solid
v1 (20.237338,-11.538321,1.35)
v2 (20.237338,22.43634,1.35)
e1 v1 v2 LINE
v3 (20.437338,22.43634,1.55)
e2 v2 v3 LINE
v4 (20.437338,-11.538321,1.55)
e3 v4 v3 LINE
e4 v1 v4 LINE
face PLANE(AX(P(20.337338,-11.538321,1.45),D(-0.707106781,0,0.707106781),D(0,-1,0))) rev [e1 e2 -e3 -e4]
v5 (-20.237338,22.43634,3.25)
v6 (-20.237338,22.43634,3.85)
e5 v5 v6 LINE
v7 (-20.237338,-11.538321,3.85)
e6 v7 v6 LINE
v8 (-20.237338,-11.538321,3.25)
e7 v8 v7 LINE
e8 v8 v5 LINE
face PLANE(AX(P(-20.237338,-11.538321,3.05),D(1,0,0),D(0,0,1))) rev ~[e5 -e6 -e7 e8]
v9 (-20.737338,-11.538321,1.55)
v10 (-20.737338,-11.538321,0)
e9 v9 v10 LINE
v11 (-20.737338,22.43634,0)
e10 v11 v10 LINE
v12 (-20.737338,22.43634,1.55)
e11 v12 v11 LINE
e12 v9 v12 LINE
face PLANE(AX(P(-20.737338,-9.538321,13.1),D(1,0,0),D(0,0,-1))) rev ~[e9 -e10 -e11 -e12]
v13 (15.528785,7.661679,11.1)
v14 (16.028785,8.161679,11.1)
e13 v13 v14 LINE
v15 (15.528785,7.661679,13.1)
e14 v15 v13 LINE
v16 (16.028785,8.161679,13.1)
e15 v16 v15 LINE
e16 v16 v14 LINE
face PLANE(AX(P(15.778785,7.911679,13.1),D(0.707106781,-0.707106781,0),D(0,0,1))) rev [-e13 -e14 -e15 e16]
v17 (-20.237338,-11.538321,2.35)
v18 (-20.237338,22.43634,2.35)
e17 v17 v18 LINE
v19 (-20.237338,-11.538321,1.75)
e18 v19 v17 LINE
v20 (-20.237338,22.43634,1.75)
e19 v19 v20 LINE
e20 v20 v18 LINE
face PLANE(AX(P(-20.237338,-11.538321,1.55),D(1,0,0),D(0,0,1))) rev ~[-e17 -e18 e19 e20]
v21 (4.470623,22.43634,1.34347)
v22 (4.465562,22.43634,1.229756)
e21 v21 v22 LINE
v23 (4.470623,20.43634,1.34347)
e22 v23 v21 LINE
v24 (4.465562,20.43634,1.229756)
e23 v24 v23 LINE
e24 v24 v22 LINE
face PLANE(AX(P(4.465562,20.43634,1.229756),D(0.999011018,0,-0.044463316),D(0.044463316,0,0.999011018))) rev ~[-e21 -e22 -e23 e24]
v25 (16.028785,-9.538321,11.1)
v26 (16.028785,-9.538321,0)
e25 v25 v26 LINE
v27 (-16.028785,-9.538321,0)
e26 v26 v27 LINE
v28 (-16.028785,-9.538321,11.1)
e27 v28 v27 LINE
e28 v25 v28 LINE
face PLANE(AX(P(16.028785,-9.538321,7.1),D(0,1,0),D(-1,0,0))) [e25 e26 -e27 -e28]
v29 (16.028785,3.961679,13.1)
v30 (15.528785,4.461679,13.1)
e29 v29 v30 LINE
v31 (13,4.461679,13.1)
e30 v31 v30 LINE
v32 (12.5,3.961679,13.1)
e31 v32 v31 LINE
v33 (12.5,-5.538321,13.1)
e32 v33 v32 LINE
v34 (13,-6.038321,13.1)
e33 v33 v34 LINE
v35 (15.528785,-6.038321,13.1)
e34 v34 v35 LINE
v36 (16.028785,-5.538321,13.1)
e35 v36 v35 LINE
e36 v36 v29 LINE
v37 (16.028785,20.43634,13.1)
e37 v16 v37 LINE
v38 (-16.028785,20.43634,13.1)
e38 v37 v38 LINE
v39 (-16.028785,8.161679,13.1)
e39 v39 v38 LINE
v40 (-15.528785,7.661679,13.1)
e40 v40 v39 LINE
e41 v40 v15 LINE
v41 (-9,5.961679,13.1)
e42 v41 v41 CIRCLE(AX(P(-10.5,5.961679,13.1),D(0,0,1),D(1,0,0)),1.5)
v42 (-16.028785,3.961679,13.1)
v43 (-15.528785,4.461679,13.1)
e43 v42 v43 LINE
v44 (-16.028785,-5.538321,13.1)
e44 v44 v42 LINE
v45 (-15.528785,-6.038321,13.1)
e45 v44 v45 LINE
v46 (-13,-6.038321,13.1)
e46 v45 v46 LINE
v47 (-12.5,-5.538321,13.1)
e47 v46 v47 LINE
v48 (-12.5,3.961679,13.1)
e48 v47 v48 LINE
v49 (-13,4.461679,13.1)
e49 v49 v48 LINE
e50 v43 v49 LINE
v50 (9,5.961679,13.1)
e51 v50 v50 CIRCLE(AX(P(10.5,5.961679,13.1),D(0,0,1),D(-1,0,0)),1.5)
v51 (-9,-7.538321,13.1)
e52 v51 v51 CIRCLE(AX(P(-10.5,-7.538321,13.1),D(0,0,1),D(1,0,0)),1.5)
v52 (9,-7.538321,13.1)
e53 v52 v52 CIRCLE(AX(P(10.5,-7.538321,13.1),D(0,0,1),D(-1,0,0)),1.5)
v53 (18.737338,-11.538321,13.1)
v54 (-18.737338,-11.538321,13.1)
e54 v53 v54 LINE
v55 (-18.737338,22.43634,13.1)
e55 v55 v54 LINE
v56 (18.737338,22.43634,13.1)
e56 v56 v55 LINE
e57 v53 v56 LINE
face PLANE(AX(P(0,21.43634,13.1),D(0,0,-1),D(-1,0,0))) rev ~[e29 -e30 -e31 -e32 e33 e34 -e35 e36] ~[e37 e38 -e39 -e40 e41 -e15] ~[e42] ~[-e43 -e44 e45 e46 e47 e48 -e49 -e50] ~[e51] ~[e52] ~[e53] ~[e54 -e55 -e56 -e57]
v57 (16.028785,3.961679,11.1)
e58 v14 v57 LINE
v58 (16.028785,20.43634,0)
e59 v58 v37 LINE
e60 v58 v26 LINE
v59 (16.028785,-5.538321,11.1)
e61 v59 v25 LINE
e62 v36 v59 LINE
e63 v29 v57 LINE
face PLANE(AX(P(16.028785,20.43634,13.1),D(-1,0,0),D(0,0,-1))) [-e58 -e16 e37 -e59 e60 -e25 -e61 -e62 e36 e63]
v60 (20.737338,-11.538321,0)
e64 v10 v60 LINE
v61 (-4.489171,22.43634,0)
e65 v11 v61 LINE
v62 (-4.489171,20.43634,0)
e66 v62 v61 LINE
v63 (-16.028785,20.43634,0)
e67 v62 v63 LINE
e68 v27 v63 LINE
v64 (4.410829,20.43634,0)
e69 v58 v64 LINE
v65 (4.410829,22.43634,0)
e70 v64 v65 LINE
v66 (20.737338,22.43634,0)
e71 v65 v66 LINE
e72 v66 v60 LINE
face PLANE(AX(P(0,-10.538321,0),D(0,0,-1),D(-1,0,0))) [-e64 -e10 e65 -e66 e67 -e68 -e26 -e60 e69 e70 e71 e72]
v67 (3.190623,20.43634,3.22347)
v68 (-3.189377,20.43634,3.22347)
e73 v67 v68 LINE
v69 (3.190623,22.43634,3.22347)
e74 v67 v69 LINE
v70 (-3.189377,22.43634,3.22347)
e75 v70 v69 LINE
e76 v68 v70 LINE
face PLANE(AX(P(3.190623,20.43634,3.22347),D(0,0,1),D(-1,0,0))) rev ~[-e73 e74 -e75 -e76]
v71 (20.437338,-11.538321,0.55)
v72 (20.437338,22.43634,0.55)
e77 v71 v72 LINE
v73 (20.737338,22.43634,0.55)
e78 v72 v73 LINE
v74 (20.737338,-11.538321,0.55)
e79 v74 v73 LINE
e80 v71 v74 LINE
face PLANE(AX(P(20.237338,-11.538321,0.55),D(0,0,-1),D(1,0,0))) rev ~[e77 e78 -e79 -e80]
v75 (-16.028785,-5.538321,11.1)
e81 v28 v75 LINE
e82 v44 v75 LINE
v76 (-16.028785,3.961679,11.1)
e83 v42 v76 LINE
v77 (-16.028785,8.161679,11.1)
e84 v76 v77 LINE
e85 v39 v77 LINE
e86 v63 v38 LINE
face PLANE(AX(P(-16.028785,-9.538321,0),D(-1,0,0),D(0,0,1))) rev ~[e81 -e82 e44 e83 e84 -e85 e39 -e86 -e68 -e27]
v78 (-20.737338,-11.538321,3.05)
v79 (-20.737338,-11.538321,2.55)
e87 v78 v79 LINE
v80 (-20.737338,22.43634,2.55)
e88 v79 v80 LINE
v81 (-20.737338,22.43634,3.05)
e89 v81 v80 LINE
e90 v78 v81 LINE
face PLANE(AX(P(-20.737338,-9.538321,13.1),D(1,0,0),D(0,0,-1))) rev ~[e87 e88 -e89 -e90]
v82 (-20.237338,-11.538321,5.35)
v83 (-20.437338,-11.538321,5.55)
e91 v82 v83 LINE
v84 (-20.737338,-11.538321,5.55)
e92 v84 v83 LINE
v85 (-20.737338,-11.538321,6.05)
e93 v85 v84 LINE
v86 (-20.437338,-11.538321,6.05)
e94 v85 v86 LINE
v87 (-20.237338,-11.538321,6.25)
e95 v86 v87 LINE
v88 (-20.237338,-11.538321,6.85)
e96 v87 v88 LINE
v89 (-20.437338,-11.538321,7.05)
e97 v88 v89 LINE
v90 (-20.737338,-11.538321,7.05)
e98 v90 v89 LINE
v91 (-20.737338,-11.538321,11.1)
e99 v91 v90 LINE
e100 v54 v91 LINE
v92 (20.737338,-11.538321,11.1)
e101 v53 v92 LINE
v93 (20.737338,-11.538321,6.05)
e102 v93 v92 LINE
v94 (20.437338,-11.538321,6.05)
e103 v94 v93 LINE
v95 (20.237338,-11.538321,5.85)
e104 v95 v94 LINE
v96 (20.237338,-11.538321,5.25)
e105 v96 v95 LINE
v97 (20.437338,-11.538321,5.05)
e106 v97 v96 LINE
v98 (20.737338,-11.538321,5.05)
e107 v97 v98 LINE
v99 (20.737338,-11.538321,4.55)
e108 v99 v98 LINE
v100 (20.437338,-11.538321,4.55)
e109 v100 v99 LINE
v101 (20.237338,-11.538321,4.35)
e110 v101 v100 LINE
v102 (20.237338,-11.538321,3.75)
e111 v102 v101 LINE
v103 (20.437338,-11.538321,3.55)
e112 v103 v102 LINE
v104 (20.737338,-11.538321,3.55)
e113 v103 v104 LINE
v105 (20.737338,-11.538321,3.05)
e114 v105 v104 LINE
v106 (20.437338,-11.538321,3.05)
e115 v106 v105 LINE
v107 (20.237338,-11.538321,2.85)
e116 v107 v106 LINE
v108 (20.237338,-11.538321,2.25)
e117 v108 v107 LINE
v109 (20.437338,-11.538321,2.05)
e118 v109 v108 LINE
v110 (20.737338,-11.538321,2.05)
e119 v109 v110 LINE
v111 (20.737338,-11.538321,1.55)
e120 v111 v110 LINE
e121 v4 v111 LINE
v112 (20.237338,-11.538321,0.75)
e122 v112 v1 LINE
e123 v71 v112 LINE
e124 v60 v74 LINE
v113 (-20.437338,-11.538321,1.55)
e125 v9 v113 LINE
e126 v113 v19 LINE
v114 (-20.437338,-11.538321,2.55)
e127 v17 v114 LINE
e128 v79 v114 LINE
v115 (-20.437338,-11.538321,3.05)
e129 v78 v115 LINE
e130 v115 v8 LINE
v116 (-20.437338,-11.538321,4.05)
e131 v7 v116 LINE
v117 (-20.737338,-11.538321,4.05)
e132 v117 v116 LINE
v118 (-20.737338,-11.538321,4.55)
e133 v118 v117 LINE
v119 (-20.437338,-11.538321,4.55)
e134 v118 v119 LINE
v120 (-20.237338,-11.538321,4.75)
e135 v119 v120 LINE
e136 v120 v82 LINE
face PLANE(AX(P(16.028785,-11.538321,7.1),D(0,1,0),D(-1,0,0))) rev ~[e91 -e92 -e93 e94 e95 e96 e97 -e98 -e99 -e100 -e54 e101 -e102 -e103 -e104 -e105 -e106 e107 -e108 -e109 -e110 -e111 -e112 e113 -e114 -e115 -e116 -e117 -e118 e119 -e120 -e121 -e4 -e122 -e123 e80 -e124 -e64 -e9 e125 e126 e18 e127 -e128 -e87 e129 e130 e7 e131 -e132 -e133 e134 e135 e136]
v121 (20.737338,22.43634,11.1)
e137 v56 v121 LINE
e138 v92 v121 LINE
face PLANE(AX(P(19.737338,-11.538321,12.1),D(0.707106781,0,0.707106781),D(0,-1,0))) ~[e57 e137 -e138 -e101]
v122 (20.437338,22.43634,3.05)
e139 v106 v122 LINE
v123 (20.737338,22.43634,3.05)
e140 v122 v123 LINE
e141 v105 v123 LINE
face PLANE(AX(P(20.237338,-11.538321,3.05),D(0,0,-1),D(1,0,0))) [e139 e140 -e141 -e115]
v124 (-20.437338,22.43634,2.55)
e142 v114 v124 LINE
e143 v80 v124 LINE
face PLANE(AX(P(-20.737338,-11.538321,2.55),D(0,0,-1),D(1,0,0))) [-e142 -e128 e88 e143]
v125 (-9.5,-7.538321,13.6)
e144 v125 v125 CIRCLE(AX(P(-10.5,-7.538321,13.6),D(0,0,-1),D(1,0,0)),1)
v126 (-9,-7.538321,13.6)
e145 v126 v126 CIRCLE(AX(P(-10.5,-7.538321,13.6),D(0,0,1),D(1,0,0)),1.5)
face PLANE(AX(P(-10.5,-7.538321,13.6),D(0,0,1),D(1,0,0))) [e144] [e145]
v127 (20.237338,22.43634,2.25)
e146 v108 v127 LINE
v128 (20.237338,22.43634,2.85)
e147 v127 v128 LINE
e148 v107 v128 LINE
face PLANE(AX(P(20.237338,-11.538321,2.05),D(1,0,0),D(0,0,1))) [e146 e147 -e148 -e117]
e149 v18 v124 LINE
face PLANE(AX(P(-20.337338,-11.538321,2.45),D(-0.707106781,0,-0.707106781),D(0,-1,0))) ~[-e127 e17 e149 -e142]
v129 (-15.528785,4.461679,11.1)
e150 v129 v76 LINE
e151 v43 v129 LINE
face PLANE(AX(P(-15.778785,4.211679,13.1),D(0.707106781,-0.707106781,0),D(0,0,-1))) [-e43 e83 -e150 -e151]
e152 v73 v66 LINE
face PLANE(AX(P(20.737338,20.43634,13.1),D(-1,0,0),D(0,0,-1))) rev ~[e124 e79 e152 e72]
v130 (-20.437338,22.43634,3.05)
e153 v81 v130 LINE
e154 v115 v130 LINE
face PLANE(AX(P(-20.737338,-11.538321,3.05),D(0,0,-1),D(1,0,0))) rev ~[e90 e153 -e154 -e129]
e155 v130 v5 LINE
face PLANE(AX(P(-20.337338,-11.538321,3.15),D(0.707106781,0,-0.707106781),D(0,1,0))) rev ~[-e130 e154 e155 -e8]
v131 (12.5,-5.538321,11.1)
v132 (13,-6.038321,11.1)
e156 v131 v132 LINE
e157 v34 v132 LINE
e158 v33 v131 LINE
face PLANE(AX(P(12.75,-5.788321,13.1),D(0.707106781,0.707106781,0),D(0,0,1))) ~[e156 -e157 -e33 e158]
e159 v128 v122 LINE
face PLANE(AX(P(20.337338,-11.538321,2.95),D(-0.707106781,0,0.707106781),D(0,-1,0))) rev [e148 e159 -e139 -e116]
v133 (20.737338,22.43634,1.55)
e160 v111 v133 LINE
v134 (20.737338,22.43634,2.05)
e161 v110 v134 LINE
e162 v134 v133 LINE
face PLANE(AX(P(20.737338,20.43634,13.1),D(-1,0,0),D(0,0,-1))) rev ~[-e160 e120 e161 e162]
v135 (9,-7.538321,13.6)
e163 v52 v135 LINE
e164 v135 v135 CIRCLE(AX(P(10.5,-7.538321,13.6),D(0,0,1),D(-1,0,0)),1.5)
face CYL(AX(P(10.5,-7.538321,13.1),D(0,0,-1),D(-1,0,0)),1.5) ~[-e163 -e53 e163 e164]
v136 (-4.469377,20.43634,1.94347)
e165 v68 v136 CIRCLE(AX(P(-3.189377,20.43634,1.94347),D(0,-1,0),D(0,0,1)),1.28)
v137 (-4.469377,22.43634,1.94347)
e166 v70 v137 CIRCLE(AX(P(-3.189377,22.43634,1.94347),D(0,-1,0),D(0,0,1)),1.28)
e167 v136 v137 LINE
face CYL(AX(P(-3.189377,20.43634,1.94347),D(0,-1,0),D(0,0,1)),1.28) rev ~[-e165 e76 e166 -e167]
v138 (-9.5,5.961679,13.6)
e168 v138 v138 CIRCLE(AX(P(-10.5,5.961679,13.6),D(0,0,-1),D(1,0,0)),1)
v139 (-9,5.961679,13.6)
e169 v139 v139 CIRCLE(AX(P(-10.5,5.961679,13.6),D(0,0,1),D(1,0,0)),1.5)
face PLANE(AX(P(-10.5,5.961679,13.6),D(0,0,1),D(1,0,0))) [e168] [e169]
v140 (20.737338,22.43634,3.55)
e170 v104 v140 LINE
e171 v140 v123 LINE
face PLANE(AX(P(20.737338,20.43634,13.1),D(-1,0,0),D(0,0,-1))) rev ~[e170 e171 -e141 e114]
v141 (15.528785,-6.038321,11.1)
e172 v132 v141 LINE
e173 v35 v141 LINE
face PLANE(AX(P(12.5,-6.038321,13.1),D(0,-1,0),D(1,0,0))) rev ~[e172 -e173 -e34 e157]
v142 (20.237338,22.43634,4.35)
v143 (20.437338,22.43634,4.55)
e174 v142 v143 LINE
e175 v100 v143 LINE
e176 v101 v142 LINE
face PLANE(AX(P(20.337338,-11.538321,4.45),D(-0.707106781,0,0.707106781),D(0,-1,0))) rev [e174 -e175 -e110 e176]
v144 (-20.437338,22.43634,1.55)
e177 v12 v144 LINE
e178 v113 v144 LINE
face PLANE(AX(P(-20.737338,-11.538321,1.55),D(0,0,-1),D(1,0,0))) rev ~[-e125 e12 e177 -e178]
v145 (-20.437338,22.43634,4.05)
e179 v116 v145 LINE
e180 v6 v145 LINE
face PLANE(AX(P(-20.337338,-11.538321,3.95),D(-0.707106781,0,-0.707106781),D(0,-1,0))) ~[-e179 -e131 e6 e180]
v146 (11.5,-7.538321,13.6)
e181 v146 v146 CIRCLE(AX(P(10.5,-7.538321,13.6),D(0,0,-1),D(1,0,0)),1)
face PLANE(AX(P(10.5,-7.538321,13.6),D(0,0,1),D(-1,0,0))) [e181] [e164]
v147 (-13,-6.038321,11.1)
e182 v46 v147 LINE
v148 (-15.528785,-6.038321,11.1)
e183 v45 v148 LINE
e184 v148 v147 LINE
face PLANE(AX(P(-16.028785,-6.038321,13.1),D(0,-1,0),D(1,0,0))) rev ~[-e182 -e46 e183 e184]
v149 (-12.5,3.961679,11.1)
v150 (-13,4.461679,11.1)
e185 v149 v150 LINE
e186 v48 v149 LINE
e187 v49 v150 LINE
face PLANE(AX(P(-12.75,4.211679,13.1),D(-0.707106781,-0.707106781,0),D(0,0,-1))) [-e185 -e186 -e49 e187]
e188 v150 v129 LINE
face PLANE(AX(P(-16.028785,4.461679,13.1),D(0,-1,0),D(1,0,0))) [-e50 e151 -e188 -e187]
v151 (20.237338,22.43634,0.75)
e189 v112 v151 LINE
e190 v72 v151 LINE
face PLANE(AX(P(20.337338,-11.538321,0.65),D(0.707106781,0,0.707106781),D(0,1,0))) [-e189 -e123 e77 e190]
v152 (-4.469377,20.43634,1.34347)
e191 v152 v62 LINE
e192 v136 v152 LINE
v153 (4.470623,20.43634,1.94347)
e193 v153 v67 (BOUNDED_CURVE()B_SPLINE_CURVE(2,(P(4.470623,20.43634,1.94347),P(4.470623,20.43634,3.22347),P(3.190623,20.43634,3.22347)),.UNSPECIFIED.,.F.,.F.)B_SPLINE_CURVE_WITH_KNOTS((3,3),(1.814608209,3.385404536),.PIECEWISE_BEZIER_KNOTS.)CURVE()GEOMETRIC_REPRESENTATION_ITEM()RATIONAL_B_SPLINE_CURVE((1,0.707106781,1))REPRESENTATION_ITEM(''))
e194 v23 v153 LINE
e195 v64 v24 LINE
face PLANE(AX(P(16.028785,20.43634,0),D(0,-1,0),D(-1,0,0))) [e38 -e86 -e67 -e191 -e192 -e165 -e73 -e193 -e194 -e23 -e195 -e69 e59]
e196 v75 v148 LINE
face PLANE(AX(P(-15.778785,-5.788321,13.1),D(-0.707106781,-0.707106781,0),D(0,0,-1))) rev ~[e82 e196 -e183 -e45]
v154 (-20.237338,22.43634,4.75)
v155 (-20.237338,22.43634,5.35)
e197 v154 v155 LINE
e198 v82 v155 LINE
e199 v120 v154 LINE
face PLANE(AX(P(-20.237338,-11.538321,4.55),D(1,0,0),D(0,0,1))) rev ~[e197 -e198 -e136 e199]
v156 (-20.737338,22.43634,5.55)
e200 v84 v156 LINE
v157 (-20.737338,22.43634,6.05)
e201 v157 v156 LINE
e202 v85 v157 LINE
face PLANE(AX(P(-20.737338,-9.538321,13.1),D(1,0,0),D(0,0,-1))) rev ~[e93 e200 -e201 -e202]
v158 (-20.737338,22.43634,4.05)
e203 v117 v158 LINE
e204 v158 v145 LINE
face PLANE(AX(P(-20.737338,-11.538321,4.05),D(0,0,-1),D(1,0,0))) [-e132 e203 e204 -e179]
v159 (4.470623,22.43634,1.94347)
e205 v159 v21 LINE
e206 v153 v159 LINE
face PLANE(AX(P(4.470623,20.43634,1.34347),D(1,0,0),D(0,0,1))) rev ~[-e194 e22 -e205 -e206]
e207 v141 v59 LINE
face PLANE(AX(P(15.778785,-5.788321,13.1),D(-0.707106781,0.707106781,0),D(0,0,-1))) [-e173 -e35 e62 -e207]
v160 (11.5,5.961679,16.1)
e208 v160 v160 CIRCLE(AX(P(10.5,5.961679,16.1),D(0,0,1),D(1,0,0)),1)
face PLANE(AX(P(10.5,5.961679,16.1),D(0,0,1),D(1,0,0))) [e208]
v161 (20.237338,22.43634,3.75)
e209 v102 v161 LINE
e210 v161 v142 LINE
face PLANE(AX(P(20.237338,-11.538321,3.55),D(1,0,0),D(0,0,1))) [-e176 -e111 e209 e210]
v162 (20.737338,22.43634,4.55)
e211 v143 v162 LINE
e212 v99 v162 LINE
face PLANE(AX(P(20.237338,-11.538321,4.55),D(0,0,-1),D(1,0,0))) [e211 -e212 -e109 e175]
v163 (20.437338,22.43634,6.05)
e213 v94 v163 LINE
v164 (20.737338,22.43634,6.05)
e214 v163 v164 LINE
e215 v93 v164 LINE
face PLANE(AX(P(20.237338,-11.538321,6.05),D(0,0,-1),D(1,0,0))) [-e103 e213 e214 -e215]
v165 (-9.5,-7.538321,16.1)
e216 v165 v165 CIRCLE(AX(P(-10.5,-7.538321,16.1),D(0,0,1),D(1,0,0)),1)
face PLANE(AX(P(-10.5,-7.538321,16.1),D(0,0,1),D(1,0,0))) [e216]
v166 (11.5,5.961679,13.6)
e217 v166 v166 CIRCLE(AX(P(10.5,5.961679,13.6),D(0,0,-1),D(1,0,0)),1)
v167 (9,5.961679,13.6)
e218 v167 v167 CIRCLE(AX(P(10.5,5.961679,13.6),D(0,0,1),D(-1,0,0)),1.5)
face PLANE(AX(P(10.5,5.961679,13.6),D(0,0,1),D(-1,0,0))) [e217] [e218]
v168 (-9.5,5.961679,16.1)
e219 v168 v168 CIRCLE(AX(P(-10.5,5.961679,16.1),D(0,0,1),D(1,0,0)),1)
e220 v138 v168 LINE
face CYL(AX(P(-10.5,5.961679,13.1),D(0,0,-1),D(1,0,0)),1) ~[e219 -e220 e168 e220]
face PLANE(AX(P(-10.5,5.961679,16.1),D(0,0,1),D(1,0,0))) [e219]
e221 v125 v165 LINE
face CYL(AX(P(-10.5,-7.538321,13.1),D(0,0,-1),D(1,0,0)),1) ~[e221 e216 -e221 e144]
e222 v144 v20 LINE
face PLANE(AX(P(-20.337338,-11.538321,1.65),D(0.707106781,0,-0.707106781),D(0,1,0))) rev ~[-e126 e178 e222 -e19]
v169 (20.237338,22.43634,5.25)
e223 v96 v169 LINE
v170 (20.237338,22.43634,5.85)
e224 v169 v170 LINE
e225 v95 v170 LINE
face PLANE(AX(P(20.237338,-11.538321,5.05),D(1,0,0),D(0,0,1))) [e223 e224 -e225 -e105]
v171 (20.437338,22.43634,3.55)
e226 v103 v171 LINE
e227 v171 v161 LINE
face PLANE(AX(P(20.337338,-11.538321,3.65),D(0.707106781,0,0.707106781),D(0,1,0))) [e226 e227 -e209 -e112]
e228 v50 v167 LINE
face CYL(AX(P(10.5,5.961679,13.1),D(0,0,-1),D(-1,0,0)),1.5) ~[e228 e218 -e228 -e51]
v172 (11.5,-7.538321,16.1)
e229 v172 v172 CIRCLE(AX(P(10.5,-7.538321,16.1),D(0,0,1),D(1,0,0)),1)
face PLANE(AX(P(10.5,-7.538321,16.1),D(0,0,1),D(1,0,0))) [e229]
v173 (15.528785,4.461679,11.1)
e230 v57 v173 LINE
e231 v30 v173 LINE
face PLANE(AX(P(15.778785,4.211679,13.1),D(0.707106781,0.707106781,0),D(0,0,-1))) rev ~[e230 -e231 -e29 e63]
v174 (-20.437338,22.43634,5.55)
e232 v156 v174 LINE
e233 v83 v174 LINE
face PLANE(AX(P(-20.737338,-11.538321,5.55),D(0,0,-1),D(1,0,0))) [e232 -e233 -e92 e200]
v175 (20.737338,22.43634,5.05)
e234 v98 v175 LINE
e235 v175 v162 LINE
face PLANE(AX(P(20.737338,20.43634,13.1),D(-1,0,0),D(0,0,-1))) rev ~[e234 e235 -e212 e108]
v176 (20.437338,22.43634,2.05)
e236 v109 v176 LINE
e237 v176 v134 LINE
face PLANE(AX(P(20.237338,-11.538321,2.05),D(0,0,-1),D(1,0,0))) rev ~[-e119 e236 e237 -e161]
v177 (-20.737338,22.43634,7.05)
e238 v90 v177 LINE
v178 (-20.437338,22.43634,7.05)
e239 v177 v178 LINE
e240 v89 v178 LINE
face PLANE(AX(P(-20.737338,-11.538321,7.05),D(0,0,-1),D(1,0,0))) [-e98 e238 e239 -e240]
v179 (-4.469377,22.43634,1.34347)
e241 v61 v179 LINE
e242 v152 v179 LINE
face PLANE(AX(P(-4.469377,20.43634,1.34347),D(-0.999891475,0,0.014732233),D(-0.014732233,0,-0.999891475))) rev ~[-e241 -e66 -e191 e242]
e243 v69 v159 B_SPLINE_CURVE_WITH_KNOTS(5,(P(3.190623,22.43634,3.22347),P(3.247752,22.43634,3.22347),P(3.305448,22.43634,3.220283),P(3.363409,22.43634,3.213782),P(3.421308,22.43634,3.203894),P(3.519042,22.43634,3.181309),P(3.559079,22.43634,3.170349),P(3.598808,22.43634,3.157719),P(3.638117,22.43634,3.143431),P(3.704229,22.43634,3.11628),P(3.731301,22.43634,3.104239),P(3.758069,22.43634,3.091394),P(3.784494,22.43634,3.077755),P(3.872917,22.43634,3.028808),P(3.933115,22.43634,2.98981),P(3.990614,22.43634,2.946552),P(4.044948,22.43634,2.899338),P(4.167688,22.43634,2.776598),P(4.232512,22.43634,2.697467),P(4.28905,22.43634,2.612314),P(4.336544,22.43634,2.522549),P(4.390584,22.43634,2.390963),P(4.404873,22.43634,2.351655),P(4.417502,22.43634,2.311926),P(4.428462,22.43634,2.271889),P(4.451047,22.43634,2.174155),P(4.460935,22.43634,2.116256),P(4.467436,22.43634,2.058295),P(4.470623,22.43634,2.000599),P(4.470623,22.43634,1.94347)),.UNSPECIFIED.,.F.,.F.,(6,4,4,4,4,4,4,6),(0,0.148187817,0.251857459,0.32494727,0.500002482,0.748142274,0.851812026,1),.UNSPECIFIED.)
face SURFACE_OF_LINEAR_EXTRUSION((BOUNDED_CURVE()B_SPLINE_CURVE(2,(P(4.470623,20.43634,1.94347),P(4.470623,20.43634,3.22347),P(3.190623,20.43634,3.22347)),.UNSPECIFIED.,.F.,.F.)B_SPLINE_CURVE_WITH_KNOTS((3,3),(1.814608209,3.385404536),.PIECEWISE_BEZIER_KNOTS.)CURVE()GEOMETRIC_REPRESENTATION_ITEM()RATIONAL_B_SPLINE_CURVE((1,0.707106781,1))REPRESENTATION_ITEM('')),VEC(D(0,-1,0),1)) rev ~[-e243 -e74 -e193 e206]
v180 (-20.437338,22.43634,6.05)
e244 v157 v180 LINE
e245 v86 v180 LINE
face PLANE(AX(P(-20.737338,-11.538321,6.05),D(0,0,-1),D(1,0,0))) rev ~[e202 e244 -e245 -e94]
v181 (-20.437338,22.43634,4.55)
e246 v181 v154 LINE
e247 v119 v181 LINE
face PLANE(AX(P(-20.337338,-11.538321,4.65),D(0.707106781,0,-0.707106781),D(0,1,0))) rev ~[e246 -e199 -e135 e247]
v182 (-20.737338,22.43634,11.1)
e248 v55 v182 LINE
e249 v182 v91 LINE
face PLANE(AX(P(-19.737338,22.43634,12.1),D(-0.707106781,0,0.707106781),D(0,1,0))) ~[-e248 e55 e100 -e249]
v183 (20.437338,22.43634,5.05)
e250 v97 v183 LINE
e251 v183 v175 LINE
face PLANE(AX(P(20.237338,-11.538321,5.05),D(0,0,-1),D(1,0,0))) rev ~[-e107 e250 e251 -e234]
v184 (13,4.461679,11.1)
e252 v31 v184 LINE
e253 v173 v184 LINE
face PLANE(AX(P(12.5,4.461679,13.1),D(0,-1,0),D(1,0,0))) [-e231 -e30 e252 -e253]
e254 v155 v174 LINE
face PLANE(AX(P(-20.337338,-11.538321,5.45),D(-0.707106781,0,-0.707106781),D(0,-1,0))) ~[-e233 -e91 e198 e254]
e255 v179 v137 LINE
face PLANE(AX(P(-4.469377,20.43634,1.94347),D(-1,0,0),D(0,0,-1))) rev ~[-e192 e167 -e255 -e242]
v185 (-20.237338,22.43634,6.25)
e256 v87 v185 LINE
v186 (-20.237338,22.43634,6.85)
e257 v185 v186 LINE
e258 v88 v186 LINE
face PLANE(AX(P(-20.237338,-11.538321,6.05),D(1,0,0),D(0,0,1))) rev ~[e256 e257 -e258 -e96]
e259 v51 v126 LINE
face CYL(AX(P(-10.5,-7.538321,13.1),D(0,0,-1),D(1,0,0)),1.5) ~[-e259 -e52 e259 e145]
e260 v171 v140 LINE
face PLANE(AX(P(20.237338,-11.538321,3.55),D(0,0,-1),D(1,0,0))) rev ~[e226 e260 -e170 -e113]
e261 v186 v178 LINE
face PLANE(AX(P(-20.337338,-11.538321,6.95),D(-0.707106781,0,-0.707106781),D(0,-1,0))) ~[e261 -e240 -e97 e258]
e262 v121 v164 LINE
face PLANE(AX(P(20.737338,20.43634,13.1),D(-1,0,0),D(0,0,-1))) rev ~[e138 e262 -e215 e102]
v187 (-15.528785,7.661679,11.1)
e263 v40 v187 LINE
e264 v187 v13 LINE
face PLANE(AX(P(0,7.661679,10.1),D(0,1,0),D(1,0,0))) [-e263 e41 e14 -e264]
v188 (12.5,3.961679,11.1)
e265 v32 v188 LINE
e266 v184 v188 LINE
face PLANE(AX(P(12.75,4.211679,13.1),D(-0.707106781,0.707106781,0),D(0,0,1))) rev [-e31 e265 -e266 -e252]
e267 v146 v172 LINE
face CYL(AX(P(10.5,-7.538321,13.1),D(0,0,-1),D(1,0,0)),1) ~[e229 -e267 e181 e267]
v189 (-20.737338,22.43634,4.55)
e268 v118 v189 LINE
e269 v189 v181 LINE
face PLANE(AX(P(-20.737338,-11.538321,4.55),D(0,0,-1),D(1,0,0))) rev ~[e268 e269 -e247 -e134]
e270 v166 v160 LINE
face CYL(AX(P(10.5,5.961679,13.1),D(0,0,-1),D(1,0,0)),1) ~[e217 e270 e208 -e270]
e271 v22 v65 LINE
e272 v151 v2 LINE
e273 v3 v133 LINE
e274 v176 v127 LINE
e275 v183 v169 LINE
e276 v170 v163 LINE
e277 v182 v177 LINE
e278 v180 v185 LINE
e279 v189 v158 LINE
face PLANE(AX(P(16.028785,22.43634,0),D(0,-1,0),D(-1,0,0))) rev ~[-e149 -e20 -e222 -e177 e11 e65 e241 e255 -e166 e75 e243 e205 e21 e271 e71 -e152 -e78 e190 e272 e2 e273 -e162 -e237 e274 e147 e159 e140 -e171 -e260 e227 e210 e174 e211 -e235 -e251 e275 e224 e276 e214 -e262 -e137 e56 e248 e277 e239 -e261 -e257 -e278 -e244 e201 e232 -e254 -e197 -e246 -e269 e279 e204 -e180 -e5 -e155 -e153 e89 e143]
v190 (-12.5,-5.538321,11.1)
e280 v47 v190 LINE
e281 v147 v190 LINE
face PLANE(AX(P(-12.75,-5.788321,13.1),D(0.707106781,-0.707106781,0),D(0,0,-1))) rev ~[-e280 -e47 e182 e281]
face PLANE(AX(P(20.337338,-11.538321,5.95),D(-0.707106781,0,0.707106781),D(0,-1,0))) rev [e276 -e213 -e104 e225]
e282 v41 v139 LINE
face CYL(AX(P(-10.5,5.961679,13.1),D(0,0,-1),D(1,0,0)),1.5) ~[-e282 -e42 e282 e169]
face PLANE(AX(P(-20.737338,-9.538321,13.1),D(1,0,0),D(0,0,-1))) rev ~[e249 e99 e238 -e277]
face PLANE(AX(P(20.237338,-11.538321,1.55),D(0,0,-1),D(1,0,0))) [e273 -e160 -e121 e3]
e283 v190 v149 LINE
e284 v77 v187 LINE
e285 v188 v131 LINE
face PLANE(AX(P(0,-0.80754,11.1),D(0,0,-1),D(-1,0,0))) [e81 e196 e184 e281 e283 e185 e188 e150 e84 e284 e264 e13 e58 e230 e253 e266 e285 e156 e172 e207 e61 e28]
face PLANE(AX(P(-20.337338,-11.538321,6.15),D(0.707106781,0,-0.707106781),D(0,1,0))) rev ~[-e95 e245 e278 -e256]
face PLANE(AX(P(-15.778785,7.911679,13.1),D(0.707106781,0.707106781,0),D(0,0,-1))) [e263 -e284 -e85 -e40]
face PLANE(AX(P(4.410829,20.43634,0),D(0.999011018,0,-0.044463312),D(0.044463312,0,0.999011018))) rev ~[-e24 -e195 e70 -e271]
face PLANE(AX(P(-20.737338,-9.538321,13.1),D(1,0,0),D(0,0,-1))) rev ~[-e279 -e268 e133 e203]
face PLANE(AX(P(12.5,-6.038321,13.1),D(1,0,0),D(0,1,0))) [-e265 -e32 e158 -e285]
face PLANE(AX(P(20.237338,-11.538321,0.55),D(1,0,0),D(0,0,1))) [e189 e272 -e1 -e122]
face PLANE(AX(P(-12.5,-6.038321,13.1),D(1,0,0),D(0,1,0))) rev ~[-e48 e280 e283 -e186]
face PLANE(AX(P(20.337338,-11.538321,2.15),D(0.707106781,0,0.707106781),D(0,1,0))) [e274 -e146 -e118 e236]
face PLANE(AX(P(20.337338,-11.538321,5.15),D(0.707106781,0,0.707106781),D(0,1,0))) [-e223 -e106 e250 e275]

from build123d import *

# Parameters (mm, degrees)
SKETCH_1_W          = 4.708553468
SKETCH_1_H          = 29.97466091
EXTRUDE_1_DEPTH     = 4.1
EXTRUDE_1_2_DEPTH   = 4.1
SKETCH_2_W          = 4.708553468
SKETCH_2_H          = 29.97466091
EXTRUDE_2_DEPTH     = 9
SKETCH_3_W          = 6
SKETCH_3_H          = 29.97466091
EXTRUDE_3_DEPTH     = 32.057569214
SKETCH_6_R          = 1
EXTRUDE_4_DEPTH     = 3
SKETCH_7_R          = 1.5
EXTRUDE_5_DEPTH     = 0.5
CUT_EXTRUDE_1_REACH = 33.926
SKETCH_9_W          = 32.057569214
SKETCH_9_H          = 5.97466091
EXTRUDE_6_DEPTH     = 2
SKETCH_12_W         = 4.708553468
SKETCH_12_H         = 13.1
EXTRUDE_7_DEPTH     = 2
SKETCH_13_W         = 32.057569214
SKETCH_13_H         = 6
CUT_EXTRUDE_3_DEPTH = 6.8
CUT_EXTRUDE_4_REACH = 35.242
SKETCH_14_W         = 3.528784607
SKETCH_14_H         = 10.5
CHAMFER_1_SIZE      = 2
CHAMFER_2_SIZE      = 0.5
CUT_EXTRUDE_5_REACH = 44.936
SKETCH_15_W         = 0.5
SKETCH_15_H         = 1
CHAMFER_3_SIZE      = 0.2
CHAMFER_4_SIZE      = 0.2
SKETCH_16_W         = 32.057569214
SKETCH_16_H         = 2
EXTRUDE_8_DEPTH     = 13.1
CUT_EXTRUDE_7_REACH = 43.372
SKETCH_18_W         = 32.057569214
SKETCH_18_H         = 2
EXTRUDE_9_DEPTH     = 7.1
CUT_EXTRUDE_8_DEPTH = 4


with BuildPart() as part:
    # 草图1 → 凸台-拉伸1 (new body)
    with BuildSketch(Plane.XY):
        with Locations((-18.383061341, 5.449009398)):
            Rectangle(SKETCH_1_W, SKETCH_1_H)
    extrude(amount=EXTRUDE_1_DEPTH)



with BuildPart() as body_2:
    # 草图1 → Extrude 1 2 (new body)
    with BuildSketch(Plane.XY):
        with Locations((18.383061341, 5.449009398)):
            Rectangle(SKETCH_1_W, SKETCH_1_H)
    extrude(amount=EXTRUDE_1_2_DEPTH)


with BuildPart() as part_1:
    add(part.part)

    add(body_2.part)  # 凸台-拉伸2 merges body 2
    # 草图2 → 凸台-拉伸2 (add)
    with BuildSketch(Plane.XY.offset(4.1)):
        with Locations((-18.383061341, 5.449009398)):
            Rectangle(SKETCH_2_W, SKETCH_2_H)
        with Locations((18.383061341, 5.449009398)):
            Rectangle(SKETCH_2_W, SKETCH_2_H)
    extrude(amount=EXTRUDE_2_DEPTH)

    # 草图3 → 凸台-拉伸3 (add)
    with BuildSketch(Plane.ZY.offset(-16.028784607)):
        with Locations((10.1, 5.449009398)):
            Rectangle(SKETCH_3_W, SKETCH_3_H)
    extrude(amount=EXTRUDE_3_DEPTH)

    # 草图6 → 凸台-拉伸4 (add)
    with BuildSketch(Plane.XY.offset(13.1)):
        with Locations((-10.5, 5.961678943)):
            Circle(SKETCH_6_R)
        with Locations((10.5, -7.538321057)):
            Circle(SKETCH_6_R)
        with Locations((-10.5, -7.538321057)):
            Circle(SKETCH_6_R)
        with Locations((10.5, 5.961678943)):
            Circle(SKETCH_6_R)
    extrude(amount=EXTRUDE_4_DEPTH)

    # 草图7 → 凸台-拉伸5 (add)
    with BuildSketch(Plane.XY.offset(13.1)):
        with Locations((-10.5, 5.961678943)):
            Circle(SKETCH_7_R)
        with Locations((-10.5, -7.538321057)):
            Circle(SKETCH_7_R)
        with Locations(Location((10.5, -7.538321057, 0), (0, 0, 180))):
            Circle(SKETCH_7_R)
        with Locations(Location((10.5, 5.961678943, 0), (0, 0, 180))):
            Circle(SKETCH_7_R)
    extrude(amount=EXTRUDE_5_DEPTH)

    # 草图9 → 切除-拉伸1 (cut, up to next)
    with BuildSketch(Plane.XY.offset(13.1), mode=Mode.PRIVATE) as cut_extrude_1_sk1:
        with Locations((0, 17.449009398)):
            Rectangle(SKETCH_9_W, SKETCH_9_H)
    cut_extrude_1_tool1 = extrude(cut_extrude_1_sk1.sketch, amount=-CUT_EXTRUDE_1_REACH, mode=Mode.PRIVATE) & part_1.part
    add(cut_extrude_1_tool1.solids().sort_by_distance((0, 17.449009, 13.1))[0], mode=Mode.SUBTRACT)

    # 草图11 → 凸台-拉伸6 (add)
    with BuildSketch(Plane.XZ.offset(9.538321057)):
        Polygon((-20.737338075, 0), (-16.028784607, 0), (-16.028784607, 7.1), (16.028784607, 7.1), (16.028784607, 0), (20.737338075, 0), (20.737338075, 13.1), (-20.737338075, 13.1), align=None)
    extrude(amount=EXTRUDE_6_DEPTH)

    # 草图12 → 凸台-拉伸7 (add)
    with BuildSketch(Plane(origin=(0, 20.436339853, 0), x_dir=(1, 0, 0), z_dir=(0, 1, 0))):
        with Locations((18.383061341, -6.55)):
            Rectangle(SKETCH_12_W, SKETCH_12_H)
        with Locations((-18.383061341, -6.55)):
            Rectangle(SKETCH_12_W, SKETCH_12_H)
    extrude(amount=EXTRUDE_7_DEPTH)

    # 草图13 → 切除-拉伸3 (cut)
    with BuildSketch(Plane(origin=(0, 14.461678943, 0), x_dir=(1, 0, 0), z_dir=(0, 1, 0))):
        with Locations((0, -10.1)):
            Rectangle(SKETCH_13_W, SKETCH_13_H)
    extrude(amount=-CUT_EXTRUDE_3_DEPTH, mode=Mode.SUBTRACT)

    # 草图14 → 切除-拉伸4 (cut, up to next)
    with BuildSketch(Plane.XY.offset(13.1), mode=Mode.PRIVATE) as cut_extrude_4_sk1:
        with Locations((-14.264392304, -0.788321057)):
            Rectangle(SKETCH_14_W, SKETCH_14_H)
    cut_extrude_4_tool1 = extrude(cut_extrude_4_sk1.sketch, amount=-CUT_EXTRUDE_4_REACH, mode=Mode.PRIVATE) & part_1.part
    # 草图14 → 切除-拉伸4 (cut, up to next)
    with BuildSketch(Plane.XY.offset(13.1), mode=Mode.PRIVATE) as cut_extrude_4_sk2:
        with Locations((14.264392304, -0.788321057)):
            Rectangle(SKETCH_14_W, SKETCH_14_H)
    cut_extrude_4_tool2 = extrude(cut_extrude_4_sk2.sketch, amount=-CUT_EXTRUDE_4_REACH, mode=Mode.PRIVATE) & part_1.part
    add(cut_extrude_4_tool1.solids().sort_by_distance((-14.264392, -0.788321, 13.1))[0], mode=Mode.SUBTRACT)
    add(cut_extrude_4_tool2.solids().sort_by_distance((14.264392, -0.788321, 13.1))[0], mode=Mode.SUBTRACT)

    # 倒角1
    chamfer_1_edges = [part_1.edges().sort_by_distance(p)[0] for p in [
        (-20.737338075, 5.449009398, 13.1),
        (20.737338075, 5.449009398, 13.1),
    ]]
    chamfer(chamfer_1_edges, length=CHAMFER_1_SIZE)

    # 倒角2
    chamfer_2_edges = [part_1.edges().sort_by_distance(p)[0] for p in [
        (16.028784607, 7.661678943, 10.1),
        (-16.028784607, 7.661678943, 10.1),
        (-16.028784607, -6.038321057, 10.1),
        (-12.5, 4.461678943, 10.1),
        (-12.5, -6.038321057, 10.1),
        (-16.028784607, 4.461678943, 10.1),
        (16.028784607, 4.461678943, 10.1),
        (12.5, 4.461678943, 10.1),
        (16.028784607, -6.038321057, 10.1),
        (12.5, -6.038321057, 10.1),
    ]]
    chamfer(chamfer_2_edges, length=CHAMFER_2_SIZE)

    # 草图15 → 切除-拉伸5 (cut, up to next)
    with BuildSketch(Plane.XZ.offset(11.538321057), mode=Mode.PRIVATE) as cut_extrude_5_sk1:
        with Locations((-20.487338075, 5.05)):
            Rectangle(SKETCH_15_W, SKETCH_15_H)
    cut_extrude_5_tool1 = extrude(cut_extrude_5_sk1.sketch, amount=-CUT_EXTRUDE_5_REACH, mode=Mode.PRIVATE) & part_1.part
    # 草图15 → 切除-拉伸5 (cut, up to next)
    with BuildSketch(Plane.XZ.offset(11.538321057), mode=Mode.PRIVATE) as cut_extrude_5_sk2:
        with Locations((-20.487338075, 3.55)):
            Rectangle(SKETCH_15_W, SKETCH_15_H)
    cut_extrude_5_tool2 = extrude(cut_extrude_5_sk2.sketch, amount=-CUT_EXTRUDE_5_REACH, mode=Mode.PRIVATE) & part_1.part
    # 草图15 → 切除-拉伸5 (cut, up to next)
    with BuildSketch(Plane.XZ.offset(11.538321057), mode=Mode.PRIVATE) as cut_extrude_5_sk3:
        with Locations((-20.487338075, 2.05)):
            Rectangle(SKETCH_15_W, SKETCH_15_H)
    cut_extrude_5_tool3 = extrude(cut_extrude_5_sk3.sketch, amount=-CUT_EXTRUDE_5_REACH, mode=Mode.PRIVATE) & part_1.part
    # 草图15 → 切除-拉伸5 (cut, up to next)
    with BuildSketch(Plane.XZ.offset(11.538321057), mode=Mode.PRIVATE) as cut_extrude_5_sk4:
        with Locations((-20.487338075, 6.55)):
            Rectangle(SKETCH_15_W, SKETCH_15_H)
    cut_extrude_5_tool4 = extrude(cut_extrude_5_sk4.sketch, amount=-CUT_EXTRUDE_5_REACH, mode=Mode.PRIVATE) & part_1.part
    # 草图15 → 切除-拉伸5 (cut, up to next)
    with BuildSketch(Plane.XZ.offset(11.538321057), mode=Mode.PRIVATE) as cut_extrude_5_sk5:
        with Locations((20.487338075, 5.55)):
            Rectangle(SKETCH_15_W, SKETCH_15_H)
    cut_extrude_5_tool5 = extrude(cut_extrude_5_sk5.sketch, amount=-CUT_EXTRUDE_5_REACH, mode=Mode.PRIVATE) & part_1.part
    # 草图15 → 切除-拉伸5 (cut, up to next)
    with BuildSketch(Plane.XZ.offset(11.538321057), mode=Mode.PRIVATE) as cut_extrude_5_sk6:
        with Locations((20.487338075, 1.05)):
            Rectangle(SKETCH_15_W, SKETCH_15_H)
    cut_extrude_5_tool6 = extrude(cut_extrude_5_sk6.sketch, amount=-CUT_EXTRUDE_5_REACH, mode=Mode.PRIVATE) & part_1.part
    # 草图15 → 切除-拉伸5 (cut, up to next)
    with BuildSketch(Plane.XZ.offset(11.538321057), mode=Mode.PRIVATE) as cut_extrude_5_sk7:
        with Locations((20.487338075, 2.55)):
            Rectangle(SKETCH_15_W, SKETCH_15_H)
    cut_extrude_5_tool7 = extrude(cut_extrude_5_sk7.sketch, amount=-CUT_EXTRUDE_5_REACH, mode=Mode.PRIVATE) & part_1.part
    # 草图15 → 切除-拉伸5 (cut, up to next)
    with BuildSketch(Plane.XZ.offset(11.538321057), mode=Mode.PRIVATE) as cut_extrude_5_sk8:
        with Locations((20.487338075, 4.05)):
            Rectangle(SKETCH_15_W, SKETCH_15_H)
    cut_extrude_5_tool8 = extrude(cut_extrude_5_sk8.sketch, amount=-CUT_EXTRUDE_5_REACH, mode=Mode.PRIVATE) & part_1.part
    add(cut_extrude_5_tool1.solids().sort_by_distance((-20.487338, -11.538321, 5.05))[0], mode=Mode.SUBTRACT)
    add(cut_extrude_5_tool2.solids().sort_by_distance((-20.487338, -11.538321, 3.55))[0], mode=Mode.SUBTRACT)
    add(cut_extrude_5_tool3.solids().sort_by_distance((-20.487338, -11.538321, 2.05))[0], mode=Mode.SUBTRACT)
    add(cut_extrude_5_tool4.solids().sort_by_distance((-20.487338, -11.538321, 6.55))[0], mode=Mode.SUBTRACT)
    add(cut_extrude_5_tool5.solids().sort_by_distance((20.487338, -11.538321, 5.55))[0], mode=Mode.SUBTRACT)
    add(cut_extrude_5_tool6.solids().sort_by_distance((20.487338, -11.538321, 1.05))[0], mode=Mode.SUBTRACT)
    add(cut_extrude_5_tool7.solids().sort_by_distance((20.487338, -11.538321, 2.55))[0], mode=Mode.SUBTRACT)
    add(cut_extrude_5_tool8.solids().sort_by_distance((20.487338, -11.538321, 4.05))[0], mode=Mode.SUBTRACT)

    # 倒角3
    chamfer_3_edges = [part_1.edges().sort_by_distance(p)[0] for p in [
        (-20.237338075, 5.449009398, 4.05),
        (-20.237338075, 5.449009398, 3.05),
        (-20.237338075, 5.449009398, 2.55),
        (-20.237338075, 5.449009398, 1.55),
        (-20.237338075, 5.449009398, 7.05),
        (-20.237338075, 5.449009398, 6.05),
        (-20.237338075, 5.449009398, 5.55),
        (-20.237338075, 5.449009398, 4.55),
    ]]
    chamfer(chamfer_3_edges, length=CHAMFER_3_SIZE)

    # 倒角4
    chamfer_4_edges = [part_1.edges().sort_by_distance(p)[0] for p in [
        (20.237338075, 5.449009398, 6.05),
        (20.237338075, 5.449009398, 5.05),
        (20.237338075, 5.449009398, 1.55),
        (20.237338075, 5.449009398, 0.55),
        (20.237338075, 5.449009398, 3.05),
        (20.237338075, 5.449009398, 2.05),
        (20.237338075, 5.449009398, 4.55),
        (20.237338075, 5.449009398, 3.55),
    ]]
    chamfer(chamfer_4_edges, length=CHAMFER_4_SIZE)

    # 草图16 → 凸台-拉伸8 (add)
    with BuildSketch(Plane(origin=(0, 0, 0), x_dir=(-1, 0, 0), z_dir=(0, 0, -1))):
        with Locations((0, 21.436339853)):
            Rectangle(SKETCH_16_W, SKETCH_16_H)
    extrude(amount=-EXTRUDE_8_DEPTH)

    # 草图17 → 切除-拉伸7 (cut, up to next)
    with BuildSketch(Plane.XZ.offset(-20.436339853), mode=Mode.PRIVATE) as cut_extrude_7_sk1:
        with BuildLine():
            Line((4.465561881, 1.229756424), (4.470622966, 1.343469934))
            Line((4.470622966, 1.343469934), (4.470622966, 1.943469934))
            add(Edge.make_bspline(
                [(4.470622966, 1.943469934), (4.470622966, 3.223469934), (3.190622966, 3.223469934)],
                knots=[1.814608209, 1.814608209, 1.814608209, 3.385404536, 3.385404536, 3.385404536], degree=2, weights=[1, 0.707106781, 1]))
            Line((3.190622966, 3.223469934), (-3.189377034, 3.223469934))
            ThreePointArc((-3.189377034, 3.223469934), (-4.094473714, 2.848566614), (-4.469377034, 1.943469934))
            Line((-4.469377034, 1.943469934), (-4.469377034, 1.343469934))
            Line((-4.469377034, 1.343469934), (-4.489171494, 5.5e-08))
            Line((-4.489171494, 5.5e-08), (4.410828707, 4e-09))
            Line((4.410828707, 4e-09), (4.465561881, 1.229756424))
        make_face()
    cut_extrude_7_tool1 = extrude(cut_extrude_7_sk1.sketch, amount=-CUT_EXTRUDE_7_REACH, mode=Mode.PRIVATE) & part_1.part
    add(cut_extrude_7_tool1.solids().sort_by_distance((-0.00786, 20.43634, 1.579655))[0], mode=Mode.SUBTRACT)

    # 草图18 → 凸台-拉伸9 (add)
    with BuildSketch(Plane(origin=(0, 0, 7.1), x_dir=(-1, 0, 0), z_dir=(0, 0, -1))):
        with Locations((0, -10.538321057)):
            Rectangle(SKETCH_18_W, SKETCH_18_H)
    extrude(amount=EXTRUDE_9_DEPTH)

    # 草图19 → 切除-拉伸8 (cut)
    with BuildSketch(Plane(origin=(0, 0, 7.1), x_dir=(-1, 0, 0), z_dir=(0, 0, -1))):
        Polygon((-16.028784607, -5.538321057), (-16.028784607, -9.538321057), (16.028784607, -9.538321057), (16.028784607, -5.538321057), (15.528784607, -6.038321057), (13, -6.038321057), (12.5, -5.538321057), (12.5, 3.961678943), (13, 4.461678943), (15.528784607, 4.461678943), (16.028784607, 3.961678943), (16.028784607, 8.161678943), (15.528784607, 7.661678943), (-15.528784607, 7.661678943), (-16.028784607, 8.161678943), (-16.028784607, 3.961678943), (-15.528784607, 4.461678943), (-13, 4.461678943), (-12.5, 3.961678943), (-12.5, -5.538321057), (-13, -6.038321057), (-15.528784607, -6.038321057), align=None)
    extrude(amount=-CUT_EXTRUDE_8_DEPTH, mode=Mode.SUBTRACT)


solid = part_1.part
